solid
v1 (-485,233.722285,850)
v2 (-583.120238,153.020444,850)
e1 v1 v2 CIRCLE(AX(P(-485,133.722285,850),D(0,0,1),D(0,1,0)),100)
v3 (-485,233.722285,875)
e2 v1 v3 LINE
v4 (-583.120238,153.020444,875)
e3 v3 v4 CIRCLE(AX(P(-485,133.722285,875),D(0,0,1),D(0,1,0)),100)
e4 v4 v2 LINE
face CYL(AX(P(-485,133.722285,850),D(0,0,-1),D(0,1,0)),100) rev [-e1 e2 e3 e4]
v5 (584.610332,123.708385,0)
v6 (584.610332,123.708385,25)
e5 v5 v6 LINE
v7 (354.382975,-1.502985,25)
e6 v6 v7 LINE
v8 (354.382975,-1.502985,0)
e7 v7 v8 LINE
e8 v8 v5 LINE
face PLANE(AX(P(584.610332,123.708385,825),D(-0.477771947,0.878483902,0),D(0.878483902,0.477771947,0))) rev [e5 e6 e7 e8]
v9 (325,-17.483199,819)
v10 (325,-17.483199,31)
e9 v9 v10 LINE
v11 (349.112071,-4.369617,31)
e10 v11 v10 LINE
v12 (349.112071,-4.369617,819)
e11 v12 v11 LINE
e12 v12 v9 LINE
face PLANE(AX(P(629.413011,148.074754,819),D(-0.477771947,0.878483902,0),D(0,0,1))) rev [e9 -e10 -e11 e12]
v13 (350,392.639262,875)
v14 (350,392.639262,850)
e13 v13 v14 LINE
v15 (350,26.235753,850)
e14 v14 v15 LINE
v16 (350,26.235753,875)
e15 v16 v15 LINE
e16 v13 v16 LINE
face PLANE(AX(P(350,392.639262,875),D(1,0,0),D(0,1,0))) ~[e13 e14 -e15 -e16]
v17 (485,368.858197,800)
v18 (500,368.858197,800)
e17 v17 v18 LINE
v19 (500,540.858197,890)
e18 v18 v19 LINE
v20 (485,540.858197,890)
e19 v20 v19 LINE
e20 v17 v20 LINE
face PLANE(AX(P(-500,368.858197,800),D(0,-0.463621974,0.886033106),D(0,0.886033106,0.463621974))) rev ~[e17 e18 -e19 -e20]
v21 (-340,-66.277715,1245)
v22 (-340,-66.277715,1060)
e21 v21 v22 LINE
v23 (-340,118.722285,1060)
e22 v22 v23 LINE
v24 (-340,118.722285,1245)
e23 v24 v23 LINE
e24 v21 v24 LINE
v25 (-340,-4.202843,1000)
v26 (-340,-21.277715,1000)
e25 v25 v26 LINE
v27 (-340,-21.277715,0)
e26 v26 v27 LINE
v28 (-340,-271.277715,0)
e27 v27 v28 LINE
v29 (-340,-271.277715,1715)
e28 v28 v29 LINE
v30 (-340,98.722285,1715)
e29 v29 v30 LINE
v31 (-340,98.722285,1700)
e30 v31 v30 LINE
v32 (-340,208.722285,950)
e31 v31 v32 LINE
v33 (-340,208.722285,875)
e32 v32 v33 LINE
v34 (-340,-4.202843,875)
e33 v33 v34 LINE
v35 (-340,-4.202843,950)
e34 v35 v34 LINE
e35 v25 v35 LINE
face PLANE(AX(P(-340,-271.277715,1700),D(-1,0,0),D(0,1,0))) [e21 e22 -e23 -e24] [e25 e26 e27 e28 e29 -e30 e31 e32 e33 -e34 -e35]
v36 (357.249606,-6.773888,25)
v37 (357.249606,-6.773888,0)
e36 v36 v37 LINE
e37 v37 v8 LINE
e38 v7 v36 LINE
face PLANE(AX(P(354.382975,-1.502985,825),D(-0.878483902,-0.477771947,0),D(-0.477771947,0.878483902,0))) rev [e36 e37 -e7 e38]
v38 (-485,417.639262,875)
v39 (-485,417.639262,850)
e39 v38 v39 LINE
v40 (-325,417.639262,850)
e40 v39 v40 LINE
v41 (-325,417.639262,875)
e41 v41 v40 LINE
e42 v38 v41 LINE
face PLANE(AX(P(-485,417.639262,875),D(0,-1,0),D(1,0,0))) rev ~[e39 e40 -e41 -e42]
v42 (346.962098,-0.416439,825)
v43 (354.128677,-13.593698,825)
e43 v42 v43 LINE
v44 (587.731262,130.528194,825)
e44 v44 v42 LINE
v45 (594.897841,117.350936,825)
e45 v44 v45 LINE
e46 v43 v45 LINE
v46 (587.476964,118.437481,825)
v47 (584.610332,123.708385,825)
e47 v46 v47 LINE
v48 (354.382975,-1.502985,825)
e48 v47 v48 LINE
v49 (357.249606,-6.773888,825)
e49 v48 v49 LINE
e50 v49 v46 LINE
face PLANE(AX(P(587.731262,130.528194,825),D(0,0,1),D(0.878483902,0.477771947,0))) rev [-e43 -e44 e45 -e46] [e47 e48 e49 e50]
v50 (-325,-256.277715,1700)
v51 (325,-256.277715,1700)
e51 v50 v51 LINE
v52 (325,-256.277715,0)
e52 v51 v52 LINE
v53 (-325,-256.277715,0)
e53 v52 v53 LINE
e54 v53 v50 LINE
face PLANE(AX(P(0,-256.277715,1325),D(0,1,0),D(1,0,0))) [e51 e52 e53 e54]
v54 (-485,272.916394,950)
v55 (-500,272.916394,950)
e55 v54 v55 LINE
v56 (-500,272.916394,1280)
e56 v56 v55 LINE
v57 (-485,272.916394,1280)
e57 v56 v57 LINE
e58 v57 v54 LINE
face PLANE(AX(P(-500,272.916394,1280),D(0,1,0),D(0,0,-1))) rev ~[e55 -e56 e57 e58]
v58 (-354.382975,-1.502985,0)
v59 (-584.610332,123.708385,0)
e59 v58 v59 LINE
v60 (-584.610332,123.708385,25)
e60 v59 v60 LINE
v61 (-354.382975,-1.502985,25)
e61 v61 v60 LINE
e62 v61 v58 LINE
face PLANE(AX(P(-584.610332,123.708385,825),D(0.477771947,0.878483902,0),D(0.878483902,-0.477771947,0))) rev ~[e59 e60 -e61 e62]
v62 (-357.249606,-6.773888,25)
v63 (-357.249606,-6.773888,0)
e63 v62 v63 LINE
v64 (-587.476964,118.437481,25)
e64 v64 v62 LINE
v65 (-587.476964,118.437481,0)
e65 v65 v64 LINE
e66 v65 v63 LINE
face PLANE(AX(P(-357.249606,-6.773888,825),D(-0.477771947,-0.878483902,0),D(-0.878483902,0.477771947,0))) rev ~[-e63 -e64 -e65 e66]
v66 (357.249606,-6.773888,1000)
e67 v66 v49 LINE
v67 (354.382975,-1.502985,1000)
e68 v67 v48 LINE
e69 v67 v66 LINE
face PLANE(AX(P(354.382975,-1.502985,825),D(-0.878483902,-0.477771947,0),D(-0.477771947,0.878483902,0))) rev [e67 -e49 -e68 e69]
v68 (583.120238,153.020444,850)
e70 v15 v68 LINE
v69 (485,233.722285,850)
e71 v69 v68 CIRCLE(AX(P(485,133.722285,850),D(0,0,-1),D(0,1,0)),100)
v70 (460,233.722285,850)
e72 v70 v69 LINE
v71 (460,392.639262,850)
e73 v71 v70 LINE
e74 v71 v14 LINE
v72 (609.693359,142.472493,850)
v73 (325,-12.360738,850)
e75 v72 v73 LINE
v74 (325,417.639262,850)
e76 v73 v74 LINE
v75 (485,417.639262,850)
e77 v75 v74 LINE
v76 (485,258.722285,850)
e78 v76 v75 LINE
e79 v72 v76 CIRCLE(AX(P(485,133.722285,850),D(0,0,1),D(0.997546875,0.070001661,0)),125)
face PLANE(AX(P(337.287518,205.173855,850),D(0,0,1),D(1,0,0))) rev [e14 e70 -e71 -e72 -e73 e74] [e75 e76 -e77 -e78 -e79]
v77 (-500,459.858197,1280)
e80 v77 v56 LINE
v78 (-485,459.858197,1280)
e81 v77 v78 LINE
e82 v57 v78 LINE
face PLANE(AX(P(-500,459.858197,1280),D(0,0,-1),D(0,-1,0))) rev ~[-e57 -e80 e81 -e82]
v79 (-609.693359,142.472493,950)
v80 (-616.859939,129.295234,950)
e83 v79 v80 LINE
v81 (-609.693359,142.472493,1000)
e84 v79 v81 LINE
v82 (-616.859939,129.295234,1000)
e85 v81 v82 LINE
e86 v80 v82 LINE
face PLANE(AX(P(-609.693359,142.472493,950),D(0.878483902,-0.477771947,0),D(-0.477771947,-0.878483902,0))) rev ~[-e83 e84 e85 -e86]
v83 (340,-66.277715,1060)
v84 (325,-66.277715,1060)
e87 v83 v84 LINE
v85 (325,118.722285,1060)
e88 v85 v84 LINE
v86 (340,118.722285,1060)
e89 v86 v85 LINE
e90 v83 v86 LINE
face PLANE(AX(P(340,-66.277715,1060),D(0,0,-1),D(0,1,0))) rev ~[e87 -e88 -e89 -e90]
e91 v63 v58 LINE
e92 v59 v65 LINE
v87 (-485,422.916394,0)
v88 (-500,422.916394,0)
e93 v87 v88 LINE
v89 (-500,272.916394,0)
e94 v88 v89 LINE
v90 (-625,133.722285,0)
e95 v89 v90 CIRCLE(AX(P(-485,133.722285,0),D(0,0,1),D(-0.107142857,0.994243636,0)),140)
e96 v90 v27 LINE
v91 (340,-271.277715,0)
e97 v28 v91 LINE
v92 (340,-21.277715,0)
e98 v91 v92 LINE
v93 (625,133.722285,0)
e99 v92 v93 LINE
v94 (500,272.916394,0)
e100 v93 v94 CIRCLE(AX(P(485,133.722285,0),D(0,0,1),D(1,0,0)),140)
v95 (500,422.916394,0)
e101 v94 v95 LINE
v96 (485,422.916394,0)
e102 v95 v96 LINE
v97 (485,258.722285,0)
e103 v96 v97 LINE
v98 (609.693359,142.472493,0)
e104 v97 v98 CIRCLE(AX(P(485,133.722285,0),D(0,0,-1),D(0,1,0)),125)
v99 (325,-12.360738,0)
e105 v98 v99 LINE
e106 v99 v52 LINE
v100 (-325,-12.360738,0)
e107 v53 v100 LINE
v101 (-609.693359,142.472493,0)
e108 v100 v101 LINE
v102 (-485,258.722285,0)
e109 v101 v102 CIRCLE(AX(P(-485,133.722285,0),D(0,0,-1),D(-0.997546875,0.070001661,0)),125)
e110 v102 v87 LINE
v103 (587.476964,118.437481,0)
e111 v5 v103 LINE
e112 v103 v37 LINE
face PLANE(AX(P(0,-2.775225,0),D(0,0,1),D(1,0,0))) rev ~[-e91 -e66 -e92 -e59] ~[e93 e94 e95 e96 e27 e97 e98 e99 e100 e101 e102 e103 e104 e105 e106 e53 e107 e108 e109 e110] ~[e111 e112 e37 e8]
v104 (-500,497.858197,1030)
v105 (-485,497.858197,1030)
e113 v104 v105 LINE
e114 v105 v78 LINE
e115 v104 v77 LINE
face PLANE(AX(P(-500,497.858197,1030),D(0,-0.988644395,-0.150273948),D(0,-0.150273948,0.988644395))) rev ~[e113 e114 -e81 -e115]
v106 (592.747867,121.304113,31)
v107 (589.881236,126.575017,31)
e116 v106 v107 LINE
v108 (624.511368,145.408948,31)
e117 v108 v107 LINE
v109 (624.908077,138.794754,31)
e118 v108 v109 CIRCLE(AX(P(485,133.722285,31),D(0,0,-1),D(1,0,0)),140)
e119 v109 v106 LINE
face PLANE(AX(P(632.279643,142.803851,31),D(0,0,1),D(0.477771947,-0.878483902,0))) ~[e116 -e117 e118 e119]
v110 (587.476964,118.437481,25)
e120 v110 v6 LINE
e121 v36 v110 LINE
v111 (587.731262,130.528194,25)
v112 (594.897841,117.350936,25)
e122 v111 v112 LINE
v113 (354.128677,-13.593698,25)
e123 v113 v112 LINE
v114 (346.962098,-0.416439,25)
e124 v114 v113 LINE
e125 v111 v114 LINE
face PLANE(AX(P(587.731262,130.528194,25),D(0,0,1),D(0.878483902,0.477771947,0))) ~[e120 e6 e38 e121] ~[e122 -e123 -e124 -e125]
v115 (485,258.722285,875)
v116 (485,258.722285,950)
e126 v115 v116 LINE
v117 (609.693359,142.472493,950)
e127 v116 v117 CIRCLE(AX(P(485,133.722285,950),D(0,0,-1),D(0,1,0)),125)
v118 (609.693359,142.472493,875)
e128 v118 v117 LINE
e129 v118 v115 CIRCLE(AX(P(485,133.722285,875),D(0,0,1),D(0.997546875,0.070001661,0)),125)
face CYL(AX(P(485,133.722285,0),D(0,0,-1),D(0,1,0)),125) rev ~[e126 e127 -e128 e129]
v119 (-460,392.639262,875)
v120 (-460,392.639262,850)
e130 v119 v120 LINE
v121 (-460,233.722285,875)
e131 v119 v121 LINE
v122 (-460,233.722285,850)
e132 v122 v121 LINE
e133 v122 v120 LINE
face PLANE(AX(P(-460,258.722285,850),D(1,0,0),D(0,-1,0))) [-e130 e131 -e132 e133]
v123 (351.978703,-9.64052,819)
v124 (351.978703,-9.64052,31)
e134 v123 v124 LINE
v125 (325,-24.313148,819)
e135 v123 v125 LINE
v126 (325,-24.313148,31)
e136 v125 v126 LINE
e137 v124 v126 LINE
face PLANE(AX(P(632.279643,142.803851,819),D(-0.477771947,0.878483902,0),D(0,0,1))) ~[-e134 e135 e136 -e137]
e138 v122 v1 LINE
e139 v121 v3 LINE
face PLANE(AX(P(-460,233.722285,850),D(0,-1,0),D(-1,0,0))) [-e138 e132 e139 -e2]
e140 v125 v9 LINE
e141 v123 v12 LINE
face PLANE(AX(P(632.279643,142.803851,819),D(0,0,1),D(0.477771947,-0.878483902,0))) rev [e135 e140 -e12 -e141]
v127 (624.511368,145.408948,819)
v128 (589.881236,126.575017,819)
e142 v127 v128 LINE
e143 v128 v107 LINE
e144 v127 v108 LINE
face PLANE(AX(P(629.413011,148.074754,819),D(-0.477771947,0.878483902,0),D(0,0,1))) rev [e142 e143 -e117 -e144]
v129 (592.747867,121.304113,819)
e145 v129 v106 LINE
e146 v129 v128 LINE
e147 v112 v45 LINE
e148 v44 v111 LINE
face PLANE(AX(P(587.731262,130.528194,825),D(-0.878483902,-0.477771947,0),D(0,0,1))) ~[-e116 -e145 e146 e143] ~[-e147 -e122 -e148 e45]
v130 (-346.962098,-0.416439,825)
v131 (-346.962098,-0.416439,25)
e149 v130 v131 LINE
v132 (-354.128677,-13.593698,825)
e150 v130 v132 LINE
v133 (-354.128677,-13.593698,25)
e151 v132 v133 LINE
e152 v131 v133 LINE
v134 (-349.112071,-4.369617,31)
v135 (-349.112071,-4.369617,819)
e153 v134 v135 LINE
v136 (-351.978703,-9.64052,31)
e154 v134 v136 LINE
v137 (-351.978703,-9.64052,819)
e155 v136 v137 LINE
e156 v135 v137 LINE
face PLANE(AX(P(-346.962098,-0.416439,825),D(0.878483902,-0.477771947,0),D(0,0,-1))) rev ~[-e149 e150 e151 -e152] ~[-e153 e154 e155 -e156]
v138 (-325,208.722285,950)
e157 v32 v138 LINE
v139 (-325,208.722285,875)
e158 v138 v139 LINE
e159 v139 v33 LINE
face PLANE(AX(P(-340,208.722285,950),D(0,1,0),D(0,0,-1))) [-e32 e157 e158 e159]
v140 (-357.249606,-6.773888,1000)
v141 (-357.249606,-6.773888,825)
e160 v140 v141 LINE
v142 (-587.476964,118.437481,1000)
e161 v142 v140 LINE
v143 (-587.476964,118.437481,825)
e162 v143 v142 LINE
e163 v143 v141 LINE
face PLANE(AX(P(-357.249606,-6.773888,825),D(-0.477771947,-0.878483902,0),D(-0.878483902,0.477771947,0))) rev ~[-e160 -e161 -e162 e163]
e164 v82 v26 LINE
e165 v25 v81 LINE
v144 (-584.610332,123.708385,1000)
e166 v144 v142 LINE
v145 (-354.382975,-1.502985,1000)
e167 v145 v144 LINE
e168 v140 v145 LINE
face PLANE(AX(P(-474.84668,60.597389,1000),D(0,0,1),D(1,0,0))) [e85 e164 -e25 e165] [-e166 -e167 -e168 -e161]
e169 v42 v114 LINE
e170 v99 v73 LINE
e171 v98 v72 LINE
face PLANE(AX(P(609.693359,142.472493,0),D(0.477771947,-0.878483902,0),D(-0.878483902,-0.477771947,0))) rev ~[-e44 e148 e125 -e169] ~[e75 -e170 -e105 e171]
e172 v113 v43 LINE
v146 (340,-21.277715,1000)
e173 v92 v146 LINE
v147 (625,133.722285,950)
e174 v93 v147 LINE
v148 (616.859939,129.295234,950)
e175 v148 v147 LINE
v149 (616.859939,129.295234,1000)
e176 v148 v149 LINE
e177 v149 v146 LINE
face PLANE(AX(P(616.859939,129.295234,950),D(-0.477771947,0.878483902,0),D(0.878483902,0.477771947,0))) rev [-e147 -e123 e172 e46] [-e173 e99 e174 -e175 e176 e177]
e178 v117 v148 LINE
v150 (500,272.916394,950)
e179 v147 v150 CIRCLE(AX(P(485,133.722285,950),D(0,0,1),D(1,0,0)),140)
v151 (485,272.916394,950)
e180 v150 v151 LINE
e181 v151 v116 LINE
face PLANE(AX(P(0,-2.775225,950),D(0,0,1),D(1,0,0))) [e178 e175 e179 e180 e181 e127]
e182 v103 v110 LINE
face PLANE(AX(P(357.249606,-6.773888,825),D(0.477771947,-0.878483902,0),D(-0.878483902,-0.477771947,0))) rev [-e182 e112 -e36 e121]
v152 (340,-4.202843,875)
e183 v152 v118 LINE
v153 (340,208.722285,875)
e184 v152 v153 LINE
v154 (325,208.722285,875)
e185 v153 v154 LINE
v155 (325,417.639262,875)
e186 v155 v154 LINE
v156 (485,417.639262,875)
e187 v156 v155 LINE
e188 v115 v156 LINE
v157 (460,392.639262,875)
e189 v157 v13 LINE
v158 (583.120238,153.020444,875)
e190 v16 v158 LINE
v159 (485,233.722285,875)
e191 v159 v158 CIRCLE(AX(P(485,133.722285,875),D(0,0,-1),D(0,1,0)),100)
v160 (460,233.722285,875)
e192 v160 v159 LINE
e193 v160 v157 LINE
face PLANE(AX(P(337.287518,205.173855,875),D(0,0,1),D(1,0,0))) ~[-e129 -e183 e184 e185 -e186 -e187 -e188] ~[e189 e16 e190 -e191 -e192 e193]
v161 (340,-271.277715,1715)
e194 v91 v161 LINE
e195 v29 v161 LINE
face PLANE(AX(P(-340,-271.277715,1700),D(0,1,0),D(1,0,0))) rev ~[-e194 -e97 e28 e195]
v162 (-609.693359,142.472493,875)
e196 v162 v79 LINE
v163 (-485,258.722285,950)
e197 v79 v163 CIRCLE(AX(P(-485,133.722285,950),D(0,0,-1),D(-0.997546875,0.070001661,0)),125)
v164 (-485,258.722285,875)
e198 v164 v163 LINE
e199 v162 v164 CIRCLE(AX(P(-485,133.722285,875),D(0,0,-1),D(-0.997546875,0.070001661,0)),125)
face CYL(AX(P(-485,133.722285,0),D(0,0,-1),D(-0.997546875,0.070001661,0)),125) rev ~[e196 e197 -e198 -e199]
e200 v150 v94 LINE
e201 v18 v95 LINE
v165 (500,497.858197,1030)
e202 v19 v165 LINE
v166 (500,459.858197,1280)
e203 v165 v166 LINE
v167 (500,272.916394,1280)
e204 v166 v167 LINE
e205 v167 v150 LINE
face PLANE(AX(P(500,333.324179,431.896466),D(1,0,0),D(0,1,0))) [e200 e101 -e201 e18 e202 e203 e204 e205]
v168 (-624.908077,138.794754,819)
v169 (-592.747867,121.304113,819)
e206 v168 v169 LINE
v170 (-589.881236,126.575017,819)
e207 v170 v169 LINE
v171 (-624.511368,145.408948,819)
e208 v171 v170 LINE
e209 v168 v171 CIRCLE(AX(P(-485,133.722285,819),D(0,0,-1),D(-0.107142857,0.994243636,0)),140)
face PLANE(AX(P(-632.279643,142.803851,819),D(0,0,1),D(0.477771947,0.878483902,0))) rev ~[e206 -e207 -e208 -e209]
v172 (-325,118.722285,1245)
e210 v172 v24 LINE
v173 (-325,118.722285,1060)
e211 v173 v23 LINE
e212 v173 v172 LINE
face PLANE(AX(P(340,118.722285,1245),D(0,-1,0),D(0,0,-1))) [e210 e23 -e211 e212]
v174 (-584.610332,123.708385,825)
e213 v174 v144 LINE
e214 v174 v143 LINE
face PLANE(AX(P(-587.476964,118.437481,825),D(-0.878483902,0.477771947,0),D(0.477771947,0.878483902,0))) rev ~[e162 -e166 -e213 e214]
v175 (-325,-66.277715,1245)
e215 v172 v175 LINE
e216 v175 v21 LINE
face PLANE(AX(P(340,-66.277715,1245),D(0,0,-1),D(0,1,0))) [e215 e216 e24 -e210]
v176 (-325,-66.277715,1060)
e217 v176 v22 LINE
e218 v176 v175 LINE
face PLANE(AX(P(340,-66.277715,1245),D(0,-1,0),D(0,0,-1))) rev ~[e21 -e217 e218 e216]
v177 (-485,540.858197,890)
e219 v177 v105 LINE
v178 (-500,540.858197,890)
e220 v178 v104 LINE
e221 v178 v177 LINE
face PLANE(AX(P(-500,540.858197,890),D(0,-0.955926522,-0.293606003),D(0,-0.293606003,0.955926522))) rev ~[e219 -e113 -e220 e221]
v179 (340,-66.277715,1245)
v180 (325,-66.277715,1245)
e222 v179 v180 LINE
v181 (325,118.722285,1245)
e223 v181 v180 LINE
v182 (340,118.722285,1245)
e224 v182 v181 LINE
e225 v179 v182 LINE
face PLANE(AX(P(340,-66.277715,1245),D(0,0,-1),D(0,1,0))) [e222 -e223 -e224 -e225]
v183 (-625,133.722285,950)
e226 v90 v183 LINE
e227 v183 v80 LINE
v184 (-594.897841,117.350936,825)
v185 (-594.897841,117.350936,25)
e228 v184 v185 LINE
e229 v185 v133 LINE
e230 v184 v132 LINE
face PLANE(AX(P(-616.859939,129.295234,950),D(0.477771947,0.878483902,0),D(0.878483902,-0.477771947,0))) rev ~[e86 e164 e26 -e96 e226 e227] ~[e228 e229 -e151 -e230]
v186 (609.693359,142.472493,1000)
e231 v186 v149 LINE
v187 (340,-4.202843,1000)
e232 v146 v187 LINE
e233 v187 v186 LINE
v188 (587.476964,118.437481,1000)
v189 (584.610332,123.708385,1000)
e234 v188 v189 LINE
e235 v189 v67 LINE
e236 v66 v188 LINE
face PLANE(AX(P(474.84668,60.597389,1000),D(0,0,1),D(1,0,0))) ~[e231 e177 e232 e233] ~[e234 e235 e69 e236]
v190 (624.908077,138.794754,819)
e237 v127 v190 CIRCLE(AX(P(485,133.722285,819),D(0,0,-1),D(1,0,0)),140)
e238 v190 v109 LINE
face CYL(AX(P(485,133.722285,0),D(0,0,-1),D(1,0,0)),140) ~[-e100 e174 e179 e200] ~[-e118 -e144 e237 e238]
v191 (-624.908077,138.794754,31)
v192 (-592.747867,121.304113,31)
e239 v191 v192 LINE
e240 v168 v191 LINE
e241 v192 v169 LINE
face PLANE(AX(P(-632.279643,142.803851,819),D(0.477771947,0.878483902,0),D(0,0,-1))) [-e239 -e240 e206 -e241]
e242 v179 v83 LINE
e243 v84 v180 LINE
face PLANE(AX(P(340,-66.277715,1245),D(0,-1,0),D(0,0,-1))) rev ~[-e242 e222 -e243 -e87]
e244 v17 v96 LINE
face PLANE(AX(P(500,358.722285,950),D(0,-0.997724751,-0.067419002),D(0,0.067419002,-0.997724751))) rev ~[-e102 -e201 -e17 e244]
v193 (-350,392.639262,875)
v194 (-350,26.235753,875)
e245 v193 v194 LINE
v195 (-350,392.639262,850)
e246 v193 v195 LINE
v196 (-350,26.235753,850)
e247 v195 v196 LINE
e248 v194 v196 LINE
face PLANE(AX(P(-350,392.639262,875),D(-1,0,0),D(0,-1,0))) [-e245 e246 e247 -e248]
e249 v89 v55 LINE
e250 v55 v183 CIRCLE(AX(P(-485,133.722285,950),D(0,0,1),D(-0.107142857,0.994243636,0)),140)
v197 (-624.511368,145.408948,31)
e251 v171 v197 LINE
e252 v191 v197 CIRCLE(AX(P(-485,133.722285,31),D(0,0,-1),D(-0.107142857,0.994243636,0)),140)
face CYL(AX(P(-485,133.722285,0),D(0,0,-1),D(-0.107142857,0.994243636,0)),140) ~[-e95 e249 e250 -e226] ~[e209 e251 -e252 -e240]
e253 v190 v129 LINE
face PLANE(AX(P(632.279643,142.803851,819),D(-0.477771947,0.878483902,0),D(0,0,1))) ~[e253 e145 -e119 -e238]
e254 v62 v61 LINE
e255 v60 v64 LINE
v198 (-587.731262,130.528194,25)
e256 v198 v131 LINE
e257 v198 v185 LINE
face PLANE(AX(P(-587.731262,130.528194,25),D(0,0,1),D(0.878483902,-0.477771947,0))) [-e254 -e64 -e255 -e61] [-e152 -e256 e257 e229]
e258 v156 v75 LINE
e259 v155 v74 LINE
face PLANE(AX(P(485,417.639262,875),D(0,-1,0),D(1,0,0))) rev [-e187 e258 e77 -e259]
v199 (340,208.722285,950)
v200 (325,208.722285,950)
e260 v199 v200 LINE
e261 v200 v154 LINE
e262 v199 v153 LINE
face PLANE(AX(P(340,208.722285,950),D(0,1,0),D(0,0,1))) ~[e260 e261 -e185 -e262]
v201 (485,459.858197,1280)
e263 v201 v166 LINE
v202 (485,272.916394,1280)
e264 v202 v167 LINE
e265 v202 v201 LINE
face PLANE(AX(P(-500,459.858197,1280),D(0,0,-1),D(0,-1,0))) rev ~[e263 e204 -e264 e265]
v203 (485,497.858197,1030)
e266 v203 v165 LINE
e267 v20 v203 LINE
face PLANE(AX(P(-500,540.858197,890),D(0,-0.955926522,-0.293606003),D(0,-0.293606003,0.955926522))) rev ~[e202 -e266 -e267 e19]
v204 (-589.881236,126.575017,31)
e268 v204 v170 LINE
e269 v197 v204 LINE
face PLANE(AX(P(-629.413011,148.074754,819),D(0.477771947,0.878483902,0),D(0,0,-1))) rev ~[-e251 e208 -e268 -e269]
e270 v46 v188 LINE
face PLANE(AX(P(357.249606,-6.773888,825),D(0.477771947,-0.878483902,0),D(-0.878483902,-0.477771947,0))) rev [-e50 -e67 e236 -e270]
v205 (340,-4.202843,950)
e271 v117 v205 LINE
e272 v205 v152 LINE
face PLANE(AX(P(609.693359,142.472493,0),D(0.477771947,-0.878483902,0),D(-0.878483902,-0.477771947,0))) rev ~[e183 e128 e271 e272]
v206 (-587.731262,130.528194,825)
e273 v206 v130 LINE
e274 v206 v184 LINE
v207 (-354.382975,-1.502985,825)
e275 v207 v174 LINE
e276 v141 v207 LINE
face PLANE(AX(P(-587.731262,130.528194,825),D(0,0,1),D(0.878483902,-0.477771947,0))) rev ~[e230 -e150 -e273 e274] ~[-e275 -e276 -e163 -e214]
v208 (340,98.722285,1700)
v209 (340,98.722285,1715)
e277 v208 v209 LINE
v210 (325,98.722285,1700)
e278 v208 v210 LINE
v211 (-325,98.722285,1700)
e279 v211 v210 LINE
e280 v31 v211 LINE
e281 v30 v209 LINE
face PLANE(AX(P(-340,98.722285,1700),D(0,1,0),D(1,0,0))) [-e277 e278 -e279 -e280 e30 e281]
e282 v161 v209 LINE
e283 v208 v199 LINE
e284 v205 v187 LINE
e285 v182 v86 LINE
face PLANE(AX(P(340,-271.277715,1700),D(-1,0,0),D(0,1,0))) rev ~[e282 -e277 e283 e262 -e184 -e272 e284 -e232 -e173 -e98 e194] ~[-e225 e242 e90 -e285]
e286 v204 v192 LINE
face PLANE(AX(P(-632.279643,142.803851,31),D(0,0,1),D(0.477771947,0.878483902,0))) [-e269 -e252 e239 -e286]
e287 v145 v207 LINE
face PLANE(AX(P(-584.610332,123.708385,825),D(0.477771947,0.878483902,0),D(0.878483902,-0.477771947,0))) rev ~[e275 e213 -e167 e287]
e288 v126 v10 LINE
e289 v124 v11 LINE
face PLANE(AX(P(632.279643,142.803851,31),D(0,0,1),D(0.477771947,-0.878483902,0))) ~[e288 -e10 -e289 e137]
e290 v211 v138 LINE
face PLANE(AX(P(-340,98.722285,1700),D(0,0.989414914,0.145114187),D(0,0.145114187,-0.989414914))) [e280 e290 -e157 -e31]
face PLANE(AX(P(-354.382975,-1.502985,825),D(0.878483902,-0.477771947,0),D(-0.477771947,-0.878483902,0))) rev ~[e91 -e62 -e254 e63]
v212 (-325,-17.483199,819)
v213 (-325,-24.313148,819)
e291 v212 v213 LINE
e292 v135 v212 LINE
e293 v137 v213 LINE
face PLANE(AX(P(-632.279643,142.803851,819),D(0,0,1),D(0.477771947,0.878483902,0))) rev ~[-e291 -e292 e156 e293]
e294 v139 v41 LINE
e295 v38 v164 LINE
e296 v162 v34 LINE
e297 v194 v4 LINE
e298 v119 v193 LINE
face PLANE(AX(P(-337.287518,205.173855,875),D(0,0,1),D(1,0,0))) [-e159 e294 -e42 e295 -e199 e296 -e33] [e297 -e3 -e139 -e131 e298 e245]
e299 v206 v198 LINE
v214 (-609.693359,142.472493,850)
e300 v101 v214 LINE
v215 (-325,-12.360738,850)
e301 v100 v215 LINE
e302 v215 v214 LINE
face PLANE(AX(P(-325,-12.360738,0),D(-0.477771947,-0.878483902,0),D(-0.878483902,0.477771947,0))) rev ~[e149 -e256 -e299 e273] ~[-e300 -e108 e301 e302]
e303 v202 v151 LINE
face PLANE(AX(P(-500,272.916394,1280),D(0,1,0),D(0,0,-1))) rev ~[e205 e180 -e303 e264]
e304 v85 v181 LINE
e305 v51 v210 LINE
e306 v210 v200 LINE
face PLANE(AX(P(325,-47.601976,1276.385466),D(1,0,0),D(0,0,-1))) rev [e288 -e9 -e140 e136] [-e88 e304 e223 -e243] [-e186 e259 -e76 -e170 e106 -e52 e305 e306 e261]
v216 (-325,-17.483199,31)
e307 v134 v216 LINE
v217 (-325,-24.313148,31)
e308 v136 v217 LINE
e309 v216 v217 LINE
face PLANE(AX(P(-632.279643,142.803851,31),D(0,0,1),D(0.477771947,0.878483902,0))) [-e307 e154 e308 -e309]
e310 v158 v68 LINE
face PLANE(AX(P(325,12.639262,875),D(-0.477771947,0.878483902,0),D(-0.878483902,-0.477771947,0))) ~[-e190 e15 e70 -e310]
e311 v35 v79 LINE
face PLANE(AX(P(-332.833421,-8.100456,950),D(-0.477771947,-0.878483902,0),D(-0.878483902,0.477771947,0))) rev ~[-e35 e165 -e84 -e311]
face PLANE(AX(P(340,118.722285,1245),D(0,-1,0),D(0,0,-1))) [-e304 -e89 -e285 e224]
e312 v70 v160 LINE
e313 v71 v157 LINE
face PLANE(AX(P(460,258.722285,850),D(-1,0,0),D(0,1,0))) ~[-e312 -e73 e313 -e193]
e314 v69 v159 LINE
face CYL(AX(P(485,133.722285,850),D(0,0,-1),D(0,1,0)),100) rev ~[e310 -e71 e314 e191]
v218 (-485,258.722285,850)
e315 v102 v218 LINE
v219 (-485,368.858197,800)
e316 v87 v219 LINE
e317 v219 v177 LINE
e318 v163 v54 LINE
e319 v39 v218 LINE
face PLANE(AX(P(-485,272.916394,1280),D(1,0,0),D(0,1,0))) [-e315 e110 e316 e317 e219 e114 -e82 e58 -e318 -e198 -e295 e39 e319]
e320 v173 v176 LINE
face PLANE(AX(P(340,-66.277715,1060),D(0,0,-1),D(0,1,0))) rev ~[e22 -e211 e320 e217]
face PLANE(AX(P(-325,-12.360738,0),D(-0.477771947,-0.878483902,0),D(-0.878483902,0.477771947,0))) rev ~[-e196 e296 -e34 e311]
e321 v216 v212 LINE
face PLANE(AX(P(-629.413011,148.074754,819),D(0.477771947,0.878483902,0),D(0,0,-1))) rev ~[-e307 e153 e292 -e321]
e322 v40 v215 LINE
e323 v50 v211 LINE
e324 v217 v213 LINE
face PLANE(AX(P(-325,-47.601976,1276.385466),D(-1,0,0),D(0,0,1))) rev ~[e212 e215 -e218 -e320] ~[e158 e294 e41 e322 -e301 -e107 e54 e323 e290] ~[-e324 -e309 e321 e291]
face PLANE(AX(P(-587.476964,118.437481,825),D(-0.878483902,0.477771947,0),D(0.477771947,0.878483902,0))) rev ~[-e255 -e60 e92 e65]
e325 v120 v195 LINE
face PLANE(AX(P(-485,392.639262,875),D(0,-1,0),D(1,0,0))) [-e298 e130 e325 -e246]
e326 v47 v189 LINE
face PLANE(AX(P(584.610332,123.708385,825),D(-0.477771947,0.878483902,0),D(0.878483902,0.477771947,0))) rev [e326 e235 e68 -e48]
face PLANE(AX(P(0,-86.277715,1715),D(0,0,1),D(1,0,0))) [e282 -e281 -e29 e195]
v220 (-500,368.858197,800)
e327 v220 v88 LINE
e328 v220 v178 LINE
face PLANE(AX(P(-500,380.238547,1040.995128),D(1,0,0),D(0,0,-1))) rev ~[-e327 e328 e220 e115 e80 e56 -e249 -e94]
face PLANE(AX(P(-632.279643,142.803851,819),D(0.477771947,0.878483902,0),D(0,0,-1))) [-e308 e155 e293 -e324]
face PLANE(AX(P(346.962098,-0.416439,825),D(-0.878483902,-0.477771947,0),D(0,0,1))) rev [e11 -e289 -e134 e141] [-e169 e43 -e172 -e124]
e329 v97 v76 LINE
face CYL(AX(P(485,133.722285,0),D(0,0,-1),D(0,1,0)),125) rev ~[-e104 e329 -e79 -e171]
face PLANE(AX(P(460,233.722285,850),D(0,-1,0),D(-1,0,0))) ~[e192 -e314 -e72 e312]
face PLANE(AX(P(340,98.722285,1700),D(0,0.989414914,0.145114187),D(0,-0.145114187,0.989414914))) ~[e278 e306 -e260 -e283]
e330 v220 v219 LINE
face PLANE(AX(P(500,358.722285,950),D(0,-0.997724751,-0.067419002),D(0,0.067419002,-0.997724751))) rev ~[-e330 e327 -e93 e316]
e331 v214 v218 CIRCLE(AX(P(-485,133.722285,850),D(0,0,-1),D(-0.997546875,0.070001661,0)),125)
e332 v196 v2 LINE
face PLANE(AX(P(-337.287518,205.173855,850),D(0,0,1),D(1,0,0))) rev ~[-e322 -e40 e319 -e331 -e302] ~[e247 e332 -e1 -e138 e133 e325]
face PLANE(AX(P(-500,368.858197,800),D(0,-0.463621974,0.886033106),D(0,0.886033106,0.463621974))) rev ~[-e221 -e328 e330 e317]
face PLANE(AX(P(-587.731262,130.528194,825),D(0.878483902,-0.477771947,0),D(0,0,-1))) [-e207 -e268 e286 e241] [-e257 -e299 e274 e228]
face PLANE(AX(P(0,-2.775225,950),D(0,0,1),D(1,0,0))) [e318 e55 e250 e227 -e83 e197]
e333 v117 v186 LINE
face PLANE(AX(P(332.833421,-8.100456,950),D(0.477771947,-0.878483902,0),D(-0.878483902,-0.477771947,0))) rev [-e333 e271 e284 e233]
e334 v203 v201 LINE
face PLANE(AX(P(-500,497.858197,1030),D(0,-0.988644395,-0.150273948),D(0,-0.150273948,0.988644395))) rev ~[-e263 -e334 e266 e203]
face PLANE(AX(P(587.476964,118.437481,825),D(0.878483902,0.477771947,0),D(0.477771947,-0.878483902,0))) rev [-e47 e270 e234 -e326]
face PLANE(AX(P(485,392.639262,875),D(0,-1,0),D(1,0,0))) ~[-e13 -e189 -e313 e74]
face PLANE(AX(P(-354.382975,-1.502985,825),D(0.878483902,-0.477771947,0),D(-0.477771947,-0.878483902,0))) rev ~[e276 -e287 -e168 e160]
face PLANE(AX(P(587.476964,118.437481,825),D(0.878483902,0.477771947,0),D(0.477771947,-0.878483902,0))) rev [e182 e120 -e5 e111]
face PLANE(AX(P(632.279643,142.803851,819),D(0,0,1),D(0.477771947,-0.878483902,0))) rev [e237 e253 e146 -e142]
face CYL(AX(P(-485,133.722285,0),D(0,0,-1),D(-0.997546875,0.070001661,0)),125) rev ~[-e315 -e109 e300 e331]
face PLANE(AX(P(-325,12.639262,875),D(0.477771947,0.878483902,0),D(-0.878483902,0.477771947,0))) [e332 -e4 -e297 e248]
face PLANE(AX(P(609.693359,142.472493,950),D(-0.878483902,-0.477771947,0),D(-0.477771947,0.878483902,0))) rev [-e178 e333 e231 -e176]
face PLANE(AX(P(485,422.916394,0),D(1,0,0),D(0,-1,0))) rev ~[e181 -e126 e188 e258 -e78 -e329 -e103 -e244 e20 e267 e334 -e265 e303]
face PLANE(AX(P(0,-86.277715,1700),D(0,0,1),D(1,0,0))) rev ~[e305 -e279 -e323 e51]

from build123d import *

# Parameters (mm, degrees)
BOSS_EXTRUDE1_DEPTH  = 950
CUT_EXTRUDE1_REACH   = 1533.987
BOSS_EXTRUDE2_REACH  = 1533.987
SKETCH4_W            = 970
SKETCH4_H            = 267.941802888
CUT_EXTRUDE2_DEPTH   = 480
BOSS_EXTRUDE4_DEPTH  = 50
SKETCH14_W           = 25
SKETCH14_H           = 138.177258536
BOSS_EXTRUDE9_DEPTH  = 25
BOSS_EXTRUDE10_START = -25
BOSS_EXTRUDE10_DEPTH = 25
BOSS_EXTRUDE11_DEPTH = 25
BOSS_EXTRUDE12_DEPTH = 25
SKETCH18_W           = 160
SKETCH18_H           = 25
BOSS_EXTRUDE13_DEPTH = 25
SKETCH19_W           = 274.073507304
SKETCH19_H           = 800
CUT_EXTRUDE3_DEPTH   = 25
CUT_EXTRUDE4_DEPTH   = 1168.808883951
CUT_EXTRUDE5_START   = -45
SKETCH22_W           = 788
SKETCH22_H           = 6
CUT_EXTRUDE5_DEPTH   = 350
BOSS_EXTRUDE14_DEPTH = 15
SKETCH24_W           = 650
SKETCH24_H           = 750
BOSS_EXTRUDE15_DEPTH = 15
SKETCH25_W           = 680
SKETCH25_H           = 370
BOSS_EXTRUDE16_DEPTH = 15
CUT_EXTRUDE6_REACH   = 2042.828
SKETCH26_W           = 185
SKETCH26_H           = 185


with BuildPart() as part:
    # Sketch1 → Boss-Extrude1 (new body)
    with BuildSketch(Plane.XY):
        with BuildLine():
            Line((-625, 133.722285201), (-340, -21.277714799))
            Line((-340, -21.277714799), (-340, -271.277714799))
            Line((-340, -271.277714799), (340, -271.277714799))
            Line((340, -271.277714799), (340, -21.277714799))
            Line((340, -21.277714799), (625, 133.722285201))
            ThreePointArc((625, 133.722285201), (589.16333328, 227.263719871), (500, 272.916394272))
            Line((500, 272.916394272), (500, 422.916394272))
            Line((500, 422.916394272), (485, 422.916394272))
            Line((485, 422.916394272), (485, 407.916394272))
            Line((485, 407.916394272), (485, 258.722285201))
            ThreePointArc((485, 258.722285201), (570.238559505, 225.151973889), (609.693359356, 142.472492778))
            Line((609.693359356, 142.472492778), (325, -12.360737749))
            Line((325, -12.360737749), (325, -256.277714799))
            Line((325, -256.277714799), (-325, -256.277714799))
            Line((-325, -256.277714799), (-325, -12.360737749))
            Line((-325, -12.360737749), (-609.693359356, 142.472492778))
            ThreePointArc((-609.693359356, 142.472492778), (-570.238559505, 225.151973889), (-485, 258.722285201))
            Line((-485, 258.722285201), (-485, 407.916394272))
            Line((-485, 407.916394272), (-485, 422.916394272))
            Line((-485, 422.916394272), (-500, 422.916394272))
            Line((-500, 422.916394272), (-500, 272.916394272))
            ThreePointArc((-500, 272.916394272), (-589.16333328, 227.263719871), (-625, 133.722285201))
        make_face()
    extrude(amount=BOSS_EXTRUDE1_DEPTH)

    # Cut-Extrude1: up to this face of the body (flat: up to its plane)
    cut_extrude1_end = Plane(part.part.faces().sort_by_distance((-500, 347.916394272, 475))[0])
    # Sketch2 → Cut-Extrude1 (cut, up to the picked face)
    with BuildSketch(Plane(origin=(500, 0, 0), x_dir=(0, 0, -1), z_dir=(1, 0, 0)), mode=Mode.PRIVATE) as cut_extrude1_sk1:
        Polygon((-950, 358.722285201), (0, 422.916394272), (-950, 422.916394272), align=None)
    cut_extrude1_tool1 = split(extrude(cut_extrude1_sk1.sketch, amount=-CUT_EXTRUDE1_REACH, mode=Mode.PRIVATE), bisect_by=cut_extrude1_end, keep=Keep.BOTH, mode=Mode.PRIVATE)
    add(cut_extrude1_tool1.solids().sort_by(Axis((500, 401.518358, 633.333333), (-1, 0, 0)))[0], mode=Mode.SUBTRACT)

    # Boss-Extrude2: up to this face of the body (flat: up to its plane)
    boss_extrude2_end = Plane(part.part.faces().sort_by_distance((500, 333.324179095, 431.896465862))[0])
    # Sketch3 → Boss-Extrude2 (add, up to the picked face)
    with BuildSketch(Plane.ZY.offset(500), mode=Mode.PRIVATE) as boss_extrude2_sk1:
        Polygon((800, 368.85819716), (890, 540.85819716), (1030, 497.85819716), (1280, 459.85819716), (1280, 272.916394272), (800, 272.916394272), align=None)
    boss_extrude2_tool1 = split(extrude(boss_extrude2_sk1.sketch, amount=-BOSS_EXTRUDE2_REACH, mode=Mode.PRIVATE), bisect_by=boss_extrude2_end, keep=Keep.BOTH, mode=Mode.PRIVATE)
    add(boss_extrude2_tool1.solids().sort_by(Axis((-500, 382.129187, 1038.198063), (1, 0, 0)))[0])

    # Sketch4 → Cut-Extrude2 (cut)
    with BuildSketch(Plane.XY.offset(1280)):
        with Locations((0, 406.887295716)):
            Rectangle(SKETCH4_W, SKETCH4_H)
    extrude(amount=-CUT_EXTRUDE2_DEPTH, mode=Mode.SUBTRACT)

    # Sketch9 → Boss-Extrude4 (add)
    with BuildSketch(Plane.XY.offset(950)):
        Polygon((-609.693359356, 142.472492778), (-616.859938559, 129.295234242), (-340, -21.277714799), (-332.833420796, -8.100456263), align=None)
    boss_extrude4 = extrude(amount=BOSS_EXTRUDE4_DEPTH)

    # Sketch14 → Boss-Extrude9 (add)
    with BuildSketch(Plane(origin=(-485, 0, 0), x_dir=(0, 0, -1), z_dir=(1, 0, 0))):
        with Locations((-862.5, 327.810914469)):
            Rectangle(SKETCH14_W, SKETCH14_H)
    boss_extrude9 = extrude(amount=BOSS_EXTRUDE9_DEPTH)

    # Sketch15 → Boss-Extrude10 (add)
    with BuildSketch(Plane.XY.offset(875).offset(BOSS_EXTRUDE10_START)):
        with BuildLine():
            Line((-460, 258.722285201), (-460, 233.722285201))
            Line((-460, 233.722285201), (-485, 233.722285201))
            ThreePointArc((-485, 233.722285201), (-555.050087415, 205.087439536), (-584.98270599, 135.581990265))
            Line((-584.98270599, 135.581990265), (-587.731261796, 130.528194105))
            Line((-587.731261796, 130.528194105), (-609.693359356, 142.472492778))
            ThreePointArc((-609.693359356, 142.472492778), (-570.238559505, 225.151973889), (-485, 258.722285201))
            Line((-485, 258.722285201), (-460, 258.722285201))
        make_face()
    boss_extrude10 = extrude(amount=BOSS_EXTRUDE10_DEPTH)

    # Sketch16 → Boss-Extrude11 (add)
    with BuildSketch(Plane.XY.offset(875)):
        Polygon((-587.731261796, 130.528194105), (-325, -12.360737749), (-325, 12.639262251), (-583.120237767, 153.020444195), align=None)
    boss_extrude11 = extrude(amount=-BOSS_EXTRUDE11_DEPTH)

    # Sketch17 → Boss-Extrude12 (add)
    with BuildSketch(Plane.XY.offset(875)):
        Polygon((-325, 12.639262251), (-325, 392.639262251), (-350, 392.639262251), (-350, 26.23575348), align=None)
    boss_extrude12 = extrude(amount=-BOSS_EXTRUDE12_DEPTH)

    # Sketch18 → Boss-Extrude13 (add)
    with BuildSketch(Plane.XY.offset(875)):
        with Locations((-405, 405.139262251)):
            Rectangle(SKETCH18_W, SKETCH18_H)
    boss_extrude13 = extrude(amount=-BOSS_EXTRUDE13_DEPTH)

    # Sketch19 → Cut-Extrude3 (cut)
    with BuildSketch(Plane(origin=(-79.374447411, -145.946564595, 0), x_dir=(0.8784839023828743, -0.47777194690998404, 0), z_dir=(0.47777194690998404, 0.8784839023828743, 0))):
        with Locations((-441.638408187, -425)):
            Rectangle(SKETCH19_W, SKETCH19_H)
    cut_extrude3 = extrude(amount=-CUT_EXTRUDE3_DEPTH, mode=Mode.SUBTRACT)

    # Sketch21 → Cut-Extrude4 (cut, symmetric)
    with BuildSketch(Plane(origin=(0, 0, 825), x_dir=(-1, 0, 0), z_dir=(0, 0, -1))):
        Polygon((584.610332143, 123.708384863), (354.382974735, -1.502984955), (357.249606416, -6.773888369), (587.476963824, 118.437481449), align=None)
    cut_extrude4 = extrude(amount=CUT_EXTRUDE4_DEPTH, both=True, mode=Mode.SUBTRACT)

    # Sketch22 → Cut-Extrude5 (cut)
    with BuildSketch(Plane(origin=(-508.356814385, 276.4747587, 0), x_dir=(0, 0, -1), z_dir=(0.8784839023828743, -0.477771946909984, 0)).offset(CUT_EXTRUDE5_START)):
        with Locations((-425, -173.634591879)):
            Rectangle(SKETCH22_W, SKETCH22_H)
    cut_extrude5 = extrude(amount=CUT_EXTRUDE5_DEPTH, mode=Mode.SUBTRACT)

    # Mirror1: Boss-Extrude4, Boss-Extrude9, Boss-Extrude10, Boss-Extrude11, Boss-Extrude12, Boss-Extrude13, Cut-Extrude3, Cut-Extrude4, Cut-Extrude5 across plane
    add(boss_extrude4.mirror(Plane(origin=(0, 0, 0), x_dir=(0, 0, 1), z_dir=(1, 0, 0))))
    add(boss_extrude9.mirror(Plane(origin=(0, 0, 0), x_dir=(0, 0, 1), z_dir=(1, 0, 0))))
    add(boss_extrude10.mirror(Plane(origin=(0, 0, 0), x_dir=(0, 0, 1), z_dir=(1, 0, 0))))
    add(boss_extrude11.mirror(Plane(origin=(0, 0, 0), x_dir=(0, 0, 1), z_dir=(1, 0, 0))))
    add(boss_extrude12.mirror(Plane(origin=(0, 0, 0), x_dir=(0, 0, 1), z_dir=(1, 0, 0))))
    add(boss_extrude13.mirror(Plane(origin=(0, 0, 0), x_dir=(0, 0, 1), z_dir=(1, 0, 0))))
    add(cut_extrude3.mirror(Plane(origin=(0, 0, 0), x_dir=(0, 0, 1), z_dir=(1, 0, 0))), mode=Mode.SUBTRACT)
    add(cut_extrude4.mirror(Plane(origin=(0, 0, 0), x_dir=(0, 0, 1), z_dir=(1, 0, 0))), mode=Mode.SUBTRACT)
    add(cut_extrude5.mirror(Plane(origin=(0, 0, 0), x_dir=(0, 0, 1), z_dir=(1, 0, 0))), mode=Mode.SUBTRACT)

    # Sketch23 → Boss-Extrude14 (add)
    with BuildSketch(Plane.ZY.offset(340)):
        Polygon((950, -271.277714799), (1700, -271.277714799), (1700, 98.722285201), (950, 208.722285201), (873.5, 208.722285201), (873.5, -21.277714799), (950, -21.277714799), align=None)
    boss_extrude14 = extrude(amount=-BOSS_EXTRUDE14_DEPTH)

    # Mirror2: Boss-Extrude14 across plane
    add(boss_extrude14.mirror(Plane(origin=(0, 0, 0), x_dir=(0, 0, 1), z_dir=(1, 0, 0))))

    # Sketch24 → Boss-Extrude15 (add)
    with BuildSketch(Plane(origin=(0, -256.277714799, 0), x_dir=(1, 0, 0), z_dir=(0, 1, 0))):
        with Locations((0, -1325)):
            Rectangle(SKETCH24_W, SKETCH24_H)
    extrude(amount=-BOSS_EXTRUDE15_DEPTH)

    # Sketch25 → Boss-Extrude16 (add)
    with BuildSketch(Plane.XY.offset(1700)):
        with Locations((0, -86.277714799)):
            Rectangle(SKETCH25_W, SKETCH25_H)
    extrude(amount=BOSS_EXTRUDE16_DEPTH)

    # Cut-Extrude6: up to this face of the body (flat: up to its plane)
    cut_extrude6_end = Plane(part.part.faces().sort_by_distance((-340, -90.018652178, 958.920592754))[0])
    # Sketch26 → Cut-Extrude6 (cut, up to the picked face)
    with BuildSketch(Plane(origin=(340, 0, 0), x_dir=(0, 0, -1), z_dir=(1, 0, 0)), mode=Mode.PRIVATE) as cut_extrude6_sk1:
        with Locations((-1152.5, 26.222285201)):
            Rectangle(SKETCH26_W, SKETCH26_H)
    cut_extrude6_tool1 = split(extrude(cut_extrude6_sk1.sketch, amount=-CUT_EXTRUDE6_REACH, mode=Mode.PRIVATE), bisect_by=cut_extrude6_end, keep=Keep.BOTH, mode=Mode.PRIVATE)
    add(cut_extrude6_tool1.solids().sort_by(Axis((340, 26.222285, 1152.5), (-1, 0, 0)))[0], mode=Mode.SUBTRACT)


solid = part.part
